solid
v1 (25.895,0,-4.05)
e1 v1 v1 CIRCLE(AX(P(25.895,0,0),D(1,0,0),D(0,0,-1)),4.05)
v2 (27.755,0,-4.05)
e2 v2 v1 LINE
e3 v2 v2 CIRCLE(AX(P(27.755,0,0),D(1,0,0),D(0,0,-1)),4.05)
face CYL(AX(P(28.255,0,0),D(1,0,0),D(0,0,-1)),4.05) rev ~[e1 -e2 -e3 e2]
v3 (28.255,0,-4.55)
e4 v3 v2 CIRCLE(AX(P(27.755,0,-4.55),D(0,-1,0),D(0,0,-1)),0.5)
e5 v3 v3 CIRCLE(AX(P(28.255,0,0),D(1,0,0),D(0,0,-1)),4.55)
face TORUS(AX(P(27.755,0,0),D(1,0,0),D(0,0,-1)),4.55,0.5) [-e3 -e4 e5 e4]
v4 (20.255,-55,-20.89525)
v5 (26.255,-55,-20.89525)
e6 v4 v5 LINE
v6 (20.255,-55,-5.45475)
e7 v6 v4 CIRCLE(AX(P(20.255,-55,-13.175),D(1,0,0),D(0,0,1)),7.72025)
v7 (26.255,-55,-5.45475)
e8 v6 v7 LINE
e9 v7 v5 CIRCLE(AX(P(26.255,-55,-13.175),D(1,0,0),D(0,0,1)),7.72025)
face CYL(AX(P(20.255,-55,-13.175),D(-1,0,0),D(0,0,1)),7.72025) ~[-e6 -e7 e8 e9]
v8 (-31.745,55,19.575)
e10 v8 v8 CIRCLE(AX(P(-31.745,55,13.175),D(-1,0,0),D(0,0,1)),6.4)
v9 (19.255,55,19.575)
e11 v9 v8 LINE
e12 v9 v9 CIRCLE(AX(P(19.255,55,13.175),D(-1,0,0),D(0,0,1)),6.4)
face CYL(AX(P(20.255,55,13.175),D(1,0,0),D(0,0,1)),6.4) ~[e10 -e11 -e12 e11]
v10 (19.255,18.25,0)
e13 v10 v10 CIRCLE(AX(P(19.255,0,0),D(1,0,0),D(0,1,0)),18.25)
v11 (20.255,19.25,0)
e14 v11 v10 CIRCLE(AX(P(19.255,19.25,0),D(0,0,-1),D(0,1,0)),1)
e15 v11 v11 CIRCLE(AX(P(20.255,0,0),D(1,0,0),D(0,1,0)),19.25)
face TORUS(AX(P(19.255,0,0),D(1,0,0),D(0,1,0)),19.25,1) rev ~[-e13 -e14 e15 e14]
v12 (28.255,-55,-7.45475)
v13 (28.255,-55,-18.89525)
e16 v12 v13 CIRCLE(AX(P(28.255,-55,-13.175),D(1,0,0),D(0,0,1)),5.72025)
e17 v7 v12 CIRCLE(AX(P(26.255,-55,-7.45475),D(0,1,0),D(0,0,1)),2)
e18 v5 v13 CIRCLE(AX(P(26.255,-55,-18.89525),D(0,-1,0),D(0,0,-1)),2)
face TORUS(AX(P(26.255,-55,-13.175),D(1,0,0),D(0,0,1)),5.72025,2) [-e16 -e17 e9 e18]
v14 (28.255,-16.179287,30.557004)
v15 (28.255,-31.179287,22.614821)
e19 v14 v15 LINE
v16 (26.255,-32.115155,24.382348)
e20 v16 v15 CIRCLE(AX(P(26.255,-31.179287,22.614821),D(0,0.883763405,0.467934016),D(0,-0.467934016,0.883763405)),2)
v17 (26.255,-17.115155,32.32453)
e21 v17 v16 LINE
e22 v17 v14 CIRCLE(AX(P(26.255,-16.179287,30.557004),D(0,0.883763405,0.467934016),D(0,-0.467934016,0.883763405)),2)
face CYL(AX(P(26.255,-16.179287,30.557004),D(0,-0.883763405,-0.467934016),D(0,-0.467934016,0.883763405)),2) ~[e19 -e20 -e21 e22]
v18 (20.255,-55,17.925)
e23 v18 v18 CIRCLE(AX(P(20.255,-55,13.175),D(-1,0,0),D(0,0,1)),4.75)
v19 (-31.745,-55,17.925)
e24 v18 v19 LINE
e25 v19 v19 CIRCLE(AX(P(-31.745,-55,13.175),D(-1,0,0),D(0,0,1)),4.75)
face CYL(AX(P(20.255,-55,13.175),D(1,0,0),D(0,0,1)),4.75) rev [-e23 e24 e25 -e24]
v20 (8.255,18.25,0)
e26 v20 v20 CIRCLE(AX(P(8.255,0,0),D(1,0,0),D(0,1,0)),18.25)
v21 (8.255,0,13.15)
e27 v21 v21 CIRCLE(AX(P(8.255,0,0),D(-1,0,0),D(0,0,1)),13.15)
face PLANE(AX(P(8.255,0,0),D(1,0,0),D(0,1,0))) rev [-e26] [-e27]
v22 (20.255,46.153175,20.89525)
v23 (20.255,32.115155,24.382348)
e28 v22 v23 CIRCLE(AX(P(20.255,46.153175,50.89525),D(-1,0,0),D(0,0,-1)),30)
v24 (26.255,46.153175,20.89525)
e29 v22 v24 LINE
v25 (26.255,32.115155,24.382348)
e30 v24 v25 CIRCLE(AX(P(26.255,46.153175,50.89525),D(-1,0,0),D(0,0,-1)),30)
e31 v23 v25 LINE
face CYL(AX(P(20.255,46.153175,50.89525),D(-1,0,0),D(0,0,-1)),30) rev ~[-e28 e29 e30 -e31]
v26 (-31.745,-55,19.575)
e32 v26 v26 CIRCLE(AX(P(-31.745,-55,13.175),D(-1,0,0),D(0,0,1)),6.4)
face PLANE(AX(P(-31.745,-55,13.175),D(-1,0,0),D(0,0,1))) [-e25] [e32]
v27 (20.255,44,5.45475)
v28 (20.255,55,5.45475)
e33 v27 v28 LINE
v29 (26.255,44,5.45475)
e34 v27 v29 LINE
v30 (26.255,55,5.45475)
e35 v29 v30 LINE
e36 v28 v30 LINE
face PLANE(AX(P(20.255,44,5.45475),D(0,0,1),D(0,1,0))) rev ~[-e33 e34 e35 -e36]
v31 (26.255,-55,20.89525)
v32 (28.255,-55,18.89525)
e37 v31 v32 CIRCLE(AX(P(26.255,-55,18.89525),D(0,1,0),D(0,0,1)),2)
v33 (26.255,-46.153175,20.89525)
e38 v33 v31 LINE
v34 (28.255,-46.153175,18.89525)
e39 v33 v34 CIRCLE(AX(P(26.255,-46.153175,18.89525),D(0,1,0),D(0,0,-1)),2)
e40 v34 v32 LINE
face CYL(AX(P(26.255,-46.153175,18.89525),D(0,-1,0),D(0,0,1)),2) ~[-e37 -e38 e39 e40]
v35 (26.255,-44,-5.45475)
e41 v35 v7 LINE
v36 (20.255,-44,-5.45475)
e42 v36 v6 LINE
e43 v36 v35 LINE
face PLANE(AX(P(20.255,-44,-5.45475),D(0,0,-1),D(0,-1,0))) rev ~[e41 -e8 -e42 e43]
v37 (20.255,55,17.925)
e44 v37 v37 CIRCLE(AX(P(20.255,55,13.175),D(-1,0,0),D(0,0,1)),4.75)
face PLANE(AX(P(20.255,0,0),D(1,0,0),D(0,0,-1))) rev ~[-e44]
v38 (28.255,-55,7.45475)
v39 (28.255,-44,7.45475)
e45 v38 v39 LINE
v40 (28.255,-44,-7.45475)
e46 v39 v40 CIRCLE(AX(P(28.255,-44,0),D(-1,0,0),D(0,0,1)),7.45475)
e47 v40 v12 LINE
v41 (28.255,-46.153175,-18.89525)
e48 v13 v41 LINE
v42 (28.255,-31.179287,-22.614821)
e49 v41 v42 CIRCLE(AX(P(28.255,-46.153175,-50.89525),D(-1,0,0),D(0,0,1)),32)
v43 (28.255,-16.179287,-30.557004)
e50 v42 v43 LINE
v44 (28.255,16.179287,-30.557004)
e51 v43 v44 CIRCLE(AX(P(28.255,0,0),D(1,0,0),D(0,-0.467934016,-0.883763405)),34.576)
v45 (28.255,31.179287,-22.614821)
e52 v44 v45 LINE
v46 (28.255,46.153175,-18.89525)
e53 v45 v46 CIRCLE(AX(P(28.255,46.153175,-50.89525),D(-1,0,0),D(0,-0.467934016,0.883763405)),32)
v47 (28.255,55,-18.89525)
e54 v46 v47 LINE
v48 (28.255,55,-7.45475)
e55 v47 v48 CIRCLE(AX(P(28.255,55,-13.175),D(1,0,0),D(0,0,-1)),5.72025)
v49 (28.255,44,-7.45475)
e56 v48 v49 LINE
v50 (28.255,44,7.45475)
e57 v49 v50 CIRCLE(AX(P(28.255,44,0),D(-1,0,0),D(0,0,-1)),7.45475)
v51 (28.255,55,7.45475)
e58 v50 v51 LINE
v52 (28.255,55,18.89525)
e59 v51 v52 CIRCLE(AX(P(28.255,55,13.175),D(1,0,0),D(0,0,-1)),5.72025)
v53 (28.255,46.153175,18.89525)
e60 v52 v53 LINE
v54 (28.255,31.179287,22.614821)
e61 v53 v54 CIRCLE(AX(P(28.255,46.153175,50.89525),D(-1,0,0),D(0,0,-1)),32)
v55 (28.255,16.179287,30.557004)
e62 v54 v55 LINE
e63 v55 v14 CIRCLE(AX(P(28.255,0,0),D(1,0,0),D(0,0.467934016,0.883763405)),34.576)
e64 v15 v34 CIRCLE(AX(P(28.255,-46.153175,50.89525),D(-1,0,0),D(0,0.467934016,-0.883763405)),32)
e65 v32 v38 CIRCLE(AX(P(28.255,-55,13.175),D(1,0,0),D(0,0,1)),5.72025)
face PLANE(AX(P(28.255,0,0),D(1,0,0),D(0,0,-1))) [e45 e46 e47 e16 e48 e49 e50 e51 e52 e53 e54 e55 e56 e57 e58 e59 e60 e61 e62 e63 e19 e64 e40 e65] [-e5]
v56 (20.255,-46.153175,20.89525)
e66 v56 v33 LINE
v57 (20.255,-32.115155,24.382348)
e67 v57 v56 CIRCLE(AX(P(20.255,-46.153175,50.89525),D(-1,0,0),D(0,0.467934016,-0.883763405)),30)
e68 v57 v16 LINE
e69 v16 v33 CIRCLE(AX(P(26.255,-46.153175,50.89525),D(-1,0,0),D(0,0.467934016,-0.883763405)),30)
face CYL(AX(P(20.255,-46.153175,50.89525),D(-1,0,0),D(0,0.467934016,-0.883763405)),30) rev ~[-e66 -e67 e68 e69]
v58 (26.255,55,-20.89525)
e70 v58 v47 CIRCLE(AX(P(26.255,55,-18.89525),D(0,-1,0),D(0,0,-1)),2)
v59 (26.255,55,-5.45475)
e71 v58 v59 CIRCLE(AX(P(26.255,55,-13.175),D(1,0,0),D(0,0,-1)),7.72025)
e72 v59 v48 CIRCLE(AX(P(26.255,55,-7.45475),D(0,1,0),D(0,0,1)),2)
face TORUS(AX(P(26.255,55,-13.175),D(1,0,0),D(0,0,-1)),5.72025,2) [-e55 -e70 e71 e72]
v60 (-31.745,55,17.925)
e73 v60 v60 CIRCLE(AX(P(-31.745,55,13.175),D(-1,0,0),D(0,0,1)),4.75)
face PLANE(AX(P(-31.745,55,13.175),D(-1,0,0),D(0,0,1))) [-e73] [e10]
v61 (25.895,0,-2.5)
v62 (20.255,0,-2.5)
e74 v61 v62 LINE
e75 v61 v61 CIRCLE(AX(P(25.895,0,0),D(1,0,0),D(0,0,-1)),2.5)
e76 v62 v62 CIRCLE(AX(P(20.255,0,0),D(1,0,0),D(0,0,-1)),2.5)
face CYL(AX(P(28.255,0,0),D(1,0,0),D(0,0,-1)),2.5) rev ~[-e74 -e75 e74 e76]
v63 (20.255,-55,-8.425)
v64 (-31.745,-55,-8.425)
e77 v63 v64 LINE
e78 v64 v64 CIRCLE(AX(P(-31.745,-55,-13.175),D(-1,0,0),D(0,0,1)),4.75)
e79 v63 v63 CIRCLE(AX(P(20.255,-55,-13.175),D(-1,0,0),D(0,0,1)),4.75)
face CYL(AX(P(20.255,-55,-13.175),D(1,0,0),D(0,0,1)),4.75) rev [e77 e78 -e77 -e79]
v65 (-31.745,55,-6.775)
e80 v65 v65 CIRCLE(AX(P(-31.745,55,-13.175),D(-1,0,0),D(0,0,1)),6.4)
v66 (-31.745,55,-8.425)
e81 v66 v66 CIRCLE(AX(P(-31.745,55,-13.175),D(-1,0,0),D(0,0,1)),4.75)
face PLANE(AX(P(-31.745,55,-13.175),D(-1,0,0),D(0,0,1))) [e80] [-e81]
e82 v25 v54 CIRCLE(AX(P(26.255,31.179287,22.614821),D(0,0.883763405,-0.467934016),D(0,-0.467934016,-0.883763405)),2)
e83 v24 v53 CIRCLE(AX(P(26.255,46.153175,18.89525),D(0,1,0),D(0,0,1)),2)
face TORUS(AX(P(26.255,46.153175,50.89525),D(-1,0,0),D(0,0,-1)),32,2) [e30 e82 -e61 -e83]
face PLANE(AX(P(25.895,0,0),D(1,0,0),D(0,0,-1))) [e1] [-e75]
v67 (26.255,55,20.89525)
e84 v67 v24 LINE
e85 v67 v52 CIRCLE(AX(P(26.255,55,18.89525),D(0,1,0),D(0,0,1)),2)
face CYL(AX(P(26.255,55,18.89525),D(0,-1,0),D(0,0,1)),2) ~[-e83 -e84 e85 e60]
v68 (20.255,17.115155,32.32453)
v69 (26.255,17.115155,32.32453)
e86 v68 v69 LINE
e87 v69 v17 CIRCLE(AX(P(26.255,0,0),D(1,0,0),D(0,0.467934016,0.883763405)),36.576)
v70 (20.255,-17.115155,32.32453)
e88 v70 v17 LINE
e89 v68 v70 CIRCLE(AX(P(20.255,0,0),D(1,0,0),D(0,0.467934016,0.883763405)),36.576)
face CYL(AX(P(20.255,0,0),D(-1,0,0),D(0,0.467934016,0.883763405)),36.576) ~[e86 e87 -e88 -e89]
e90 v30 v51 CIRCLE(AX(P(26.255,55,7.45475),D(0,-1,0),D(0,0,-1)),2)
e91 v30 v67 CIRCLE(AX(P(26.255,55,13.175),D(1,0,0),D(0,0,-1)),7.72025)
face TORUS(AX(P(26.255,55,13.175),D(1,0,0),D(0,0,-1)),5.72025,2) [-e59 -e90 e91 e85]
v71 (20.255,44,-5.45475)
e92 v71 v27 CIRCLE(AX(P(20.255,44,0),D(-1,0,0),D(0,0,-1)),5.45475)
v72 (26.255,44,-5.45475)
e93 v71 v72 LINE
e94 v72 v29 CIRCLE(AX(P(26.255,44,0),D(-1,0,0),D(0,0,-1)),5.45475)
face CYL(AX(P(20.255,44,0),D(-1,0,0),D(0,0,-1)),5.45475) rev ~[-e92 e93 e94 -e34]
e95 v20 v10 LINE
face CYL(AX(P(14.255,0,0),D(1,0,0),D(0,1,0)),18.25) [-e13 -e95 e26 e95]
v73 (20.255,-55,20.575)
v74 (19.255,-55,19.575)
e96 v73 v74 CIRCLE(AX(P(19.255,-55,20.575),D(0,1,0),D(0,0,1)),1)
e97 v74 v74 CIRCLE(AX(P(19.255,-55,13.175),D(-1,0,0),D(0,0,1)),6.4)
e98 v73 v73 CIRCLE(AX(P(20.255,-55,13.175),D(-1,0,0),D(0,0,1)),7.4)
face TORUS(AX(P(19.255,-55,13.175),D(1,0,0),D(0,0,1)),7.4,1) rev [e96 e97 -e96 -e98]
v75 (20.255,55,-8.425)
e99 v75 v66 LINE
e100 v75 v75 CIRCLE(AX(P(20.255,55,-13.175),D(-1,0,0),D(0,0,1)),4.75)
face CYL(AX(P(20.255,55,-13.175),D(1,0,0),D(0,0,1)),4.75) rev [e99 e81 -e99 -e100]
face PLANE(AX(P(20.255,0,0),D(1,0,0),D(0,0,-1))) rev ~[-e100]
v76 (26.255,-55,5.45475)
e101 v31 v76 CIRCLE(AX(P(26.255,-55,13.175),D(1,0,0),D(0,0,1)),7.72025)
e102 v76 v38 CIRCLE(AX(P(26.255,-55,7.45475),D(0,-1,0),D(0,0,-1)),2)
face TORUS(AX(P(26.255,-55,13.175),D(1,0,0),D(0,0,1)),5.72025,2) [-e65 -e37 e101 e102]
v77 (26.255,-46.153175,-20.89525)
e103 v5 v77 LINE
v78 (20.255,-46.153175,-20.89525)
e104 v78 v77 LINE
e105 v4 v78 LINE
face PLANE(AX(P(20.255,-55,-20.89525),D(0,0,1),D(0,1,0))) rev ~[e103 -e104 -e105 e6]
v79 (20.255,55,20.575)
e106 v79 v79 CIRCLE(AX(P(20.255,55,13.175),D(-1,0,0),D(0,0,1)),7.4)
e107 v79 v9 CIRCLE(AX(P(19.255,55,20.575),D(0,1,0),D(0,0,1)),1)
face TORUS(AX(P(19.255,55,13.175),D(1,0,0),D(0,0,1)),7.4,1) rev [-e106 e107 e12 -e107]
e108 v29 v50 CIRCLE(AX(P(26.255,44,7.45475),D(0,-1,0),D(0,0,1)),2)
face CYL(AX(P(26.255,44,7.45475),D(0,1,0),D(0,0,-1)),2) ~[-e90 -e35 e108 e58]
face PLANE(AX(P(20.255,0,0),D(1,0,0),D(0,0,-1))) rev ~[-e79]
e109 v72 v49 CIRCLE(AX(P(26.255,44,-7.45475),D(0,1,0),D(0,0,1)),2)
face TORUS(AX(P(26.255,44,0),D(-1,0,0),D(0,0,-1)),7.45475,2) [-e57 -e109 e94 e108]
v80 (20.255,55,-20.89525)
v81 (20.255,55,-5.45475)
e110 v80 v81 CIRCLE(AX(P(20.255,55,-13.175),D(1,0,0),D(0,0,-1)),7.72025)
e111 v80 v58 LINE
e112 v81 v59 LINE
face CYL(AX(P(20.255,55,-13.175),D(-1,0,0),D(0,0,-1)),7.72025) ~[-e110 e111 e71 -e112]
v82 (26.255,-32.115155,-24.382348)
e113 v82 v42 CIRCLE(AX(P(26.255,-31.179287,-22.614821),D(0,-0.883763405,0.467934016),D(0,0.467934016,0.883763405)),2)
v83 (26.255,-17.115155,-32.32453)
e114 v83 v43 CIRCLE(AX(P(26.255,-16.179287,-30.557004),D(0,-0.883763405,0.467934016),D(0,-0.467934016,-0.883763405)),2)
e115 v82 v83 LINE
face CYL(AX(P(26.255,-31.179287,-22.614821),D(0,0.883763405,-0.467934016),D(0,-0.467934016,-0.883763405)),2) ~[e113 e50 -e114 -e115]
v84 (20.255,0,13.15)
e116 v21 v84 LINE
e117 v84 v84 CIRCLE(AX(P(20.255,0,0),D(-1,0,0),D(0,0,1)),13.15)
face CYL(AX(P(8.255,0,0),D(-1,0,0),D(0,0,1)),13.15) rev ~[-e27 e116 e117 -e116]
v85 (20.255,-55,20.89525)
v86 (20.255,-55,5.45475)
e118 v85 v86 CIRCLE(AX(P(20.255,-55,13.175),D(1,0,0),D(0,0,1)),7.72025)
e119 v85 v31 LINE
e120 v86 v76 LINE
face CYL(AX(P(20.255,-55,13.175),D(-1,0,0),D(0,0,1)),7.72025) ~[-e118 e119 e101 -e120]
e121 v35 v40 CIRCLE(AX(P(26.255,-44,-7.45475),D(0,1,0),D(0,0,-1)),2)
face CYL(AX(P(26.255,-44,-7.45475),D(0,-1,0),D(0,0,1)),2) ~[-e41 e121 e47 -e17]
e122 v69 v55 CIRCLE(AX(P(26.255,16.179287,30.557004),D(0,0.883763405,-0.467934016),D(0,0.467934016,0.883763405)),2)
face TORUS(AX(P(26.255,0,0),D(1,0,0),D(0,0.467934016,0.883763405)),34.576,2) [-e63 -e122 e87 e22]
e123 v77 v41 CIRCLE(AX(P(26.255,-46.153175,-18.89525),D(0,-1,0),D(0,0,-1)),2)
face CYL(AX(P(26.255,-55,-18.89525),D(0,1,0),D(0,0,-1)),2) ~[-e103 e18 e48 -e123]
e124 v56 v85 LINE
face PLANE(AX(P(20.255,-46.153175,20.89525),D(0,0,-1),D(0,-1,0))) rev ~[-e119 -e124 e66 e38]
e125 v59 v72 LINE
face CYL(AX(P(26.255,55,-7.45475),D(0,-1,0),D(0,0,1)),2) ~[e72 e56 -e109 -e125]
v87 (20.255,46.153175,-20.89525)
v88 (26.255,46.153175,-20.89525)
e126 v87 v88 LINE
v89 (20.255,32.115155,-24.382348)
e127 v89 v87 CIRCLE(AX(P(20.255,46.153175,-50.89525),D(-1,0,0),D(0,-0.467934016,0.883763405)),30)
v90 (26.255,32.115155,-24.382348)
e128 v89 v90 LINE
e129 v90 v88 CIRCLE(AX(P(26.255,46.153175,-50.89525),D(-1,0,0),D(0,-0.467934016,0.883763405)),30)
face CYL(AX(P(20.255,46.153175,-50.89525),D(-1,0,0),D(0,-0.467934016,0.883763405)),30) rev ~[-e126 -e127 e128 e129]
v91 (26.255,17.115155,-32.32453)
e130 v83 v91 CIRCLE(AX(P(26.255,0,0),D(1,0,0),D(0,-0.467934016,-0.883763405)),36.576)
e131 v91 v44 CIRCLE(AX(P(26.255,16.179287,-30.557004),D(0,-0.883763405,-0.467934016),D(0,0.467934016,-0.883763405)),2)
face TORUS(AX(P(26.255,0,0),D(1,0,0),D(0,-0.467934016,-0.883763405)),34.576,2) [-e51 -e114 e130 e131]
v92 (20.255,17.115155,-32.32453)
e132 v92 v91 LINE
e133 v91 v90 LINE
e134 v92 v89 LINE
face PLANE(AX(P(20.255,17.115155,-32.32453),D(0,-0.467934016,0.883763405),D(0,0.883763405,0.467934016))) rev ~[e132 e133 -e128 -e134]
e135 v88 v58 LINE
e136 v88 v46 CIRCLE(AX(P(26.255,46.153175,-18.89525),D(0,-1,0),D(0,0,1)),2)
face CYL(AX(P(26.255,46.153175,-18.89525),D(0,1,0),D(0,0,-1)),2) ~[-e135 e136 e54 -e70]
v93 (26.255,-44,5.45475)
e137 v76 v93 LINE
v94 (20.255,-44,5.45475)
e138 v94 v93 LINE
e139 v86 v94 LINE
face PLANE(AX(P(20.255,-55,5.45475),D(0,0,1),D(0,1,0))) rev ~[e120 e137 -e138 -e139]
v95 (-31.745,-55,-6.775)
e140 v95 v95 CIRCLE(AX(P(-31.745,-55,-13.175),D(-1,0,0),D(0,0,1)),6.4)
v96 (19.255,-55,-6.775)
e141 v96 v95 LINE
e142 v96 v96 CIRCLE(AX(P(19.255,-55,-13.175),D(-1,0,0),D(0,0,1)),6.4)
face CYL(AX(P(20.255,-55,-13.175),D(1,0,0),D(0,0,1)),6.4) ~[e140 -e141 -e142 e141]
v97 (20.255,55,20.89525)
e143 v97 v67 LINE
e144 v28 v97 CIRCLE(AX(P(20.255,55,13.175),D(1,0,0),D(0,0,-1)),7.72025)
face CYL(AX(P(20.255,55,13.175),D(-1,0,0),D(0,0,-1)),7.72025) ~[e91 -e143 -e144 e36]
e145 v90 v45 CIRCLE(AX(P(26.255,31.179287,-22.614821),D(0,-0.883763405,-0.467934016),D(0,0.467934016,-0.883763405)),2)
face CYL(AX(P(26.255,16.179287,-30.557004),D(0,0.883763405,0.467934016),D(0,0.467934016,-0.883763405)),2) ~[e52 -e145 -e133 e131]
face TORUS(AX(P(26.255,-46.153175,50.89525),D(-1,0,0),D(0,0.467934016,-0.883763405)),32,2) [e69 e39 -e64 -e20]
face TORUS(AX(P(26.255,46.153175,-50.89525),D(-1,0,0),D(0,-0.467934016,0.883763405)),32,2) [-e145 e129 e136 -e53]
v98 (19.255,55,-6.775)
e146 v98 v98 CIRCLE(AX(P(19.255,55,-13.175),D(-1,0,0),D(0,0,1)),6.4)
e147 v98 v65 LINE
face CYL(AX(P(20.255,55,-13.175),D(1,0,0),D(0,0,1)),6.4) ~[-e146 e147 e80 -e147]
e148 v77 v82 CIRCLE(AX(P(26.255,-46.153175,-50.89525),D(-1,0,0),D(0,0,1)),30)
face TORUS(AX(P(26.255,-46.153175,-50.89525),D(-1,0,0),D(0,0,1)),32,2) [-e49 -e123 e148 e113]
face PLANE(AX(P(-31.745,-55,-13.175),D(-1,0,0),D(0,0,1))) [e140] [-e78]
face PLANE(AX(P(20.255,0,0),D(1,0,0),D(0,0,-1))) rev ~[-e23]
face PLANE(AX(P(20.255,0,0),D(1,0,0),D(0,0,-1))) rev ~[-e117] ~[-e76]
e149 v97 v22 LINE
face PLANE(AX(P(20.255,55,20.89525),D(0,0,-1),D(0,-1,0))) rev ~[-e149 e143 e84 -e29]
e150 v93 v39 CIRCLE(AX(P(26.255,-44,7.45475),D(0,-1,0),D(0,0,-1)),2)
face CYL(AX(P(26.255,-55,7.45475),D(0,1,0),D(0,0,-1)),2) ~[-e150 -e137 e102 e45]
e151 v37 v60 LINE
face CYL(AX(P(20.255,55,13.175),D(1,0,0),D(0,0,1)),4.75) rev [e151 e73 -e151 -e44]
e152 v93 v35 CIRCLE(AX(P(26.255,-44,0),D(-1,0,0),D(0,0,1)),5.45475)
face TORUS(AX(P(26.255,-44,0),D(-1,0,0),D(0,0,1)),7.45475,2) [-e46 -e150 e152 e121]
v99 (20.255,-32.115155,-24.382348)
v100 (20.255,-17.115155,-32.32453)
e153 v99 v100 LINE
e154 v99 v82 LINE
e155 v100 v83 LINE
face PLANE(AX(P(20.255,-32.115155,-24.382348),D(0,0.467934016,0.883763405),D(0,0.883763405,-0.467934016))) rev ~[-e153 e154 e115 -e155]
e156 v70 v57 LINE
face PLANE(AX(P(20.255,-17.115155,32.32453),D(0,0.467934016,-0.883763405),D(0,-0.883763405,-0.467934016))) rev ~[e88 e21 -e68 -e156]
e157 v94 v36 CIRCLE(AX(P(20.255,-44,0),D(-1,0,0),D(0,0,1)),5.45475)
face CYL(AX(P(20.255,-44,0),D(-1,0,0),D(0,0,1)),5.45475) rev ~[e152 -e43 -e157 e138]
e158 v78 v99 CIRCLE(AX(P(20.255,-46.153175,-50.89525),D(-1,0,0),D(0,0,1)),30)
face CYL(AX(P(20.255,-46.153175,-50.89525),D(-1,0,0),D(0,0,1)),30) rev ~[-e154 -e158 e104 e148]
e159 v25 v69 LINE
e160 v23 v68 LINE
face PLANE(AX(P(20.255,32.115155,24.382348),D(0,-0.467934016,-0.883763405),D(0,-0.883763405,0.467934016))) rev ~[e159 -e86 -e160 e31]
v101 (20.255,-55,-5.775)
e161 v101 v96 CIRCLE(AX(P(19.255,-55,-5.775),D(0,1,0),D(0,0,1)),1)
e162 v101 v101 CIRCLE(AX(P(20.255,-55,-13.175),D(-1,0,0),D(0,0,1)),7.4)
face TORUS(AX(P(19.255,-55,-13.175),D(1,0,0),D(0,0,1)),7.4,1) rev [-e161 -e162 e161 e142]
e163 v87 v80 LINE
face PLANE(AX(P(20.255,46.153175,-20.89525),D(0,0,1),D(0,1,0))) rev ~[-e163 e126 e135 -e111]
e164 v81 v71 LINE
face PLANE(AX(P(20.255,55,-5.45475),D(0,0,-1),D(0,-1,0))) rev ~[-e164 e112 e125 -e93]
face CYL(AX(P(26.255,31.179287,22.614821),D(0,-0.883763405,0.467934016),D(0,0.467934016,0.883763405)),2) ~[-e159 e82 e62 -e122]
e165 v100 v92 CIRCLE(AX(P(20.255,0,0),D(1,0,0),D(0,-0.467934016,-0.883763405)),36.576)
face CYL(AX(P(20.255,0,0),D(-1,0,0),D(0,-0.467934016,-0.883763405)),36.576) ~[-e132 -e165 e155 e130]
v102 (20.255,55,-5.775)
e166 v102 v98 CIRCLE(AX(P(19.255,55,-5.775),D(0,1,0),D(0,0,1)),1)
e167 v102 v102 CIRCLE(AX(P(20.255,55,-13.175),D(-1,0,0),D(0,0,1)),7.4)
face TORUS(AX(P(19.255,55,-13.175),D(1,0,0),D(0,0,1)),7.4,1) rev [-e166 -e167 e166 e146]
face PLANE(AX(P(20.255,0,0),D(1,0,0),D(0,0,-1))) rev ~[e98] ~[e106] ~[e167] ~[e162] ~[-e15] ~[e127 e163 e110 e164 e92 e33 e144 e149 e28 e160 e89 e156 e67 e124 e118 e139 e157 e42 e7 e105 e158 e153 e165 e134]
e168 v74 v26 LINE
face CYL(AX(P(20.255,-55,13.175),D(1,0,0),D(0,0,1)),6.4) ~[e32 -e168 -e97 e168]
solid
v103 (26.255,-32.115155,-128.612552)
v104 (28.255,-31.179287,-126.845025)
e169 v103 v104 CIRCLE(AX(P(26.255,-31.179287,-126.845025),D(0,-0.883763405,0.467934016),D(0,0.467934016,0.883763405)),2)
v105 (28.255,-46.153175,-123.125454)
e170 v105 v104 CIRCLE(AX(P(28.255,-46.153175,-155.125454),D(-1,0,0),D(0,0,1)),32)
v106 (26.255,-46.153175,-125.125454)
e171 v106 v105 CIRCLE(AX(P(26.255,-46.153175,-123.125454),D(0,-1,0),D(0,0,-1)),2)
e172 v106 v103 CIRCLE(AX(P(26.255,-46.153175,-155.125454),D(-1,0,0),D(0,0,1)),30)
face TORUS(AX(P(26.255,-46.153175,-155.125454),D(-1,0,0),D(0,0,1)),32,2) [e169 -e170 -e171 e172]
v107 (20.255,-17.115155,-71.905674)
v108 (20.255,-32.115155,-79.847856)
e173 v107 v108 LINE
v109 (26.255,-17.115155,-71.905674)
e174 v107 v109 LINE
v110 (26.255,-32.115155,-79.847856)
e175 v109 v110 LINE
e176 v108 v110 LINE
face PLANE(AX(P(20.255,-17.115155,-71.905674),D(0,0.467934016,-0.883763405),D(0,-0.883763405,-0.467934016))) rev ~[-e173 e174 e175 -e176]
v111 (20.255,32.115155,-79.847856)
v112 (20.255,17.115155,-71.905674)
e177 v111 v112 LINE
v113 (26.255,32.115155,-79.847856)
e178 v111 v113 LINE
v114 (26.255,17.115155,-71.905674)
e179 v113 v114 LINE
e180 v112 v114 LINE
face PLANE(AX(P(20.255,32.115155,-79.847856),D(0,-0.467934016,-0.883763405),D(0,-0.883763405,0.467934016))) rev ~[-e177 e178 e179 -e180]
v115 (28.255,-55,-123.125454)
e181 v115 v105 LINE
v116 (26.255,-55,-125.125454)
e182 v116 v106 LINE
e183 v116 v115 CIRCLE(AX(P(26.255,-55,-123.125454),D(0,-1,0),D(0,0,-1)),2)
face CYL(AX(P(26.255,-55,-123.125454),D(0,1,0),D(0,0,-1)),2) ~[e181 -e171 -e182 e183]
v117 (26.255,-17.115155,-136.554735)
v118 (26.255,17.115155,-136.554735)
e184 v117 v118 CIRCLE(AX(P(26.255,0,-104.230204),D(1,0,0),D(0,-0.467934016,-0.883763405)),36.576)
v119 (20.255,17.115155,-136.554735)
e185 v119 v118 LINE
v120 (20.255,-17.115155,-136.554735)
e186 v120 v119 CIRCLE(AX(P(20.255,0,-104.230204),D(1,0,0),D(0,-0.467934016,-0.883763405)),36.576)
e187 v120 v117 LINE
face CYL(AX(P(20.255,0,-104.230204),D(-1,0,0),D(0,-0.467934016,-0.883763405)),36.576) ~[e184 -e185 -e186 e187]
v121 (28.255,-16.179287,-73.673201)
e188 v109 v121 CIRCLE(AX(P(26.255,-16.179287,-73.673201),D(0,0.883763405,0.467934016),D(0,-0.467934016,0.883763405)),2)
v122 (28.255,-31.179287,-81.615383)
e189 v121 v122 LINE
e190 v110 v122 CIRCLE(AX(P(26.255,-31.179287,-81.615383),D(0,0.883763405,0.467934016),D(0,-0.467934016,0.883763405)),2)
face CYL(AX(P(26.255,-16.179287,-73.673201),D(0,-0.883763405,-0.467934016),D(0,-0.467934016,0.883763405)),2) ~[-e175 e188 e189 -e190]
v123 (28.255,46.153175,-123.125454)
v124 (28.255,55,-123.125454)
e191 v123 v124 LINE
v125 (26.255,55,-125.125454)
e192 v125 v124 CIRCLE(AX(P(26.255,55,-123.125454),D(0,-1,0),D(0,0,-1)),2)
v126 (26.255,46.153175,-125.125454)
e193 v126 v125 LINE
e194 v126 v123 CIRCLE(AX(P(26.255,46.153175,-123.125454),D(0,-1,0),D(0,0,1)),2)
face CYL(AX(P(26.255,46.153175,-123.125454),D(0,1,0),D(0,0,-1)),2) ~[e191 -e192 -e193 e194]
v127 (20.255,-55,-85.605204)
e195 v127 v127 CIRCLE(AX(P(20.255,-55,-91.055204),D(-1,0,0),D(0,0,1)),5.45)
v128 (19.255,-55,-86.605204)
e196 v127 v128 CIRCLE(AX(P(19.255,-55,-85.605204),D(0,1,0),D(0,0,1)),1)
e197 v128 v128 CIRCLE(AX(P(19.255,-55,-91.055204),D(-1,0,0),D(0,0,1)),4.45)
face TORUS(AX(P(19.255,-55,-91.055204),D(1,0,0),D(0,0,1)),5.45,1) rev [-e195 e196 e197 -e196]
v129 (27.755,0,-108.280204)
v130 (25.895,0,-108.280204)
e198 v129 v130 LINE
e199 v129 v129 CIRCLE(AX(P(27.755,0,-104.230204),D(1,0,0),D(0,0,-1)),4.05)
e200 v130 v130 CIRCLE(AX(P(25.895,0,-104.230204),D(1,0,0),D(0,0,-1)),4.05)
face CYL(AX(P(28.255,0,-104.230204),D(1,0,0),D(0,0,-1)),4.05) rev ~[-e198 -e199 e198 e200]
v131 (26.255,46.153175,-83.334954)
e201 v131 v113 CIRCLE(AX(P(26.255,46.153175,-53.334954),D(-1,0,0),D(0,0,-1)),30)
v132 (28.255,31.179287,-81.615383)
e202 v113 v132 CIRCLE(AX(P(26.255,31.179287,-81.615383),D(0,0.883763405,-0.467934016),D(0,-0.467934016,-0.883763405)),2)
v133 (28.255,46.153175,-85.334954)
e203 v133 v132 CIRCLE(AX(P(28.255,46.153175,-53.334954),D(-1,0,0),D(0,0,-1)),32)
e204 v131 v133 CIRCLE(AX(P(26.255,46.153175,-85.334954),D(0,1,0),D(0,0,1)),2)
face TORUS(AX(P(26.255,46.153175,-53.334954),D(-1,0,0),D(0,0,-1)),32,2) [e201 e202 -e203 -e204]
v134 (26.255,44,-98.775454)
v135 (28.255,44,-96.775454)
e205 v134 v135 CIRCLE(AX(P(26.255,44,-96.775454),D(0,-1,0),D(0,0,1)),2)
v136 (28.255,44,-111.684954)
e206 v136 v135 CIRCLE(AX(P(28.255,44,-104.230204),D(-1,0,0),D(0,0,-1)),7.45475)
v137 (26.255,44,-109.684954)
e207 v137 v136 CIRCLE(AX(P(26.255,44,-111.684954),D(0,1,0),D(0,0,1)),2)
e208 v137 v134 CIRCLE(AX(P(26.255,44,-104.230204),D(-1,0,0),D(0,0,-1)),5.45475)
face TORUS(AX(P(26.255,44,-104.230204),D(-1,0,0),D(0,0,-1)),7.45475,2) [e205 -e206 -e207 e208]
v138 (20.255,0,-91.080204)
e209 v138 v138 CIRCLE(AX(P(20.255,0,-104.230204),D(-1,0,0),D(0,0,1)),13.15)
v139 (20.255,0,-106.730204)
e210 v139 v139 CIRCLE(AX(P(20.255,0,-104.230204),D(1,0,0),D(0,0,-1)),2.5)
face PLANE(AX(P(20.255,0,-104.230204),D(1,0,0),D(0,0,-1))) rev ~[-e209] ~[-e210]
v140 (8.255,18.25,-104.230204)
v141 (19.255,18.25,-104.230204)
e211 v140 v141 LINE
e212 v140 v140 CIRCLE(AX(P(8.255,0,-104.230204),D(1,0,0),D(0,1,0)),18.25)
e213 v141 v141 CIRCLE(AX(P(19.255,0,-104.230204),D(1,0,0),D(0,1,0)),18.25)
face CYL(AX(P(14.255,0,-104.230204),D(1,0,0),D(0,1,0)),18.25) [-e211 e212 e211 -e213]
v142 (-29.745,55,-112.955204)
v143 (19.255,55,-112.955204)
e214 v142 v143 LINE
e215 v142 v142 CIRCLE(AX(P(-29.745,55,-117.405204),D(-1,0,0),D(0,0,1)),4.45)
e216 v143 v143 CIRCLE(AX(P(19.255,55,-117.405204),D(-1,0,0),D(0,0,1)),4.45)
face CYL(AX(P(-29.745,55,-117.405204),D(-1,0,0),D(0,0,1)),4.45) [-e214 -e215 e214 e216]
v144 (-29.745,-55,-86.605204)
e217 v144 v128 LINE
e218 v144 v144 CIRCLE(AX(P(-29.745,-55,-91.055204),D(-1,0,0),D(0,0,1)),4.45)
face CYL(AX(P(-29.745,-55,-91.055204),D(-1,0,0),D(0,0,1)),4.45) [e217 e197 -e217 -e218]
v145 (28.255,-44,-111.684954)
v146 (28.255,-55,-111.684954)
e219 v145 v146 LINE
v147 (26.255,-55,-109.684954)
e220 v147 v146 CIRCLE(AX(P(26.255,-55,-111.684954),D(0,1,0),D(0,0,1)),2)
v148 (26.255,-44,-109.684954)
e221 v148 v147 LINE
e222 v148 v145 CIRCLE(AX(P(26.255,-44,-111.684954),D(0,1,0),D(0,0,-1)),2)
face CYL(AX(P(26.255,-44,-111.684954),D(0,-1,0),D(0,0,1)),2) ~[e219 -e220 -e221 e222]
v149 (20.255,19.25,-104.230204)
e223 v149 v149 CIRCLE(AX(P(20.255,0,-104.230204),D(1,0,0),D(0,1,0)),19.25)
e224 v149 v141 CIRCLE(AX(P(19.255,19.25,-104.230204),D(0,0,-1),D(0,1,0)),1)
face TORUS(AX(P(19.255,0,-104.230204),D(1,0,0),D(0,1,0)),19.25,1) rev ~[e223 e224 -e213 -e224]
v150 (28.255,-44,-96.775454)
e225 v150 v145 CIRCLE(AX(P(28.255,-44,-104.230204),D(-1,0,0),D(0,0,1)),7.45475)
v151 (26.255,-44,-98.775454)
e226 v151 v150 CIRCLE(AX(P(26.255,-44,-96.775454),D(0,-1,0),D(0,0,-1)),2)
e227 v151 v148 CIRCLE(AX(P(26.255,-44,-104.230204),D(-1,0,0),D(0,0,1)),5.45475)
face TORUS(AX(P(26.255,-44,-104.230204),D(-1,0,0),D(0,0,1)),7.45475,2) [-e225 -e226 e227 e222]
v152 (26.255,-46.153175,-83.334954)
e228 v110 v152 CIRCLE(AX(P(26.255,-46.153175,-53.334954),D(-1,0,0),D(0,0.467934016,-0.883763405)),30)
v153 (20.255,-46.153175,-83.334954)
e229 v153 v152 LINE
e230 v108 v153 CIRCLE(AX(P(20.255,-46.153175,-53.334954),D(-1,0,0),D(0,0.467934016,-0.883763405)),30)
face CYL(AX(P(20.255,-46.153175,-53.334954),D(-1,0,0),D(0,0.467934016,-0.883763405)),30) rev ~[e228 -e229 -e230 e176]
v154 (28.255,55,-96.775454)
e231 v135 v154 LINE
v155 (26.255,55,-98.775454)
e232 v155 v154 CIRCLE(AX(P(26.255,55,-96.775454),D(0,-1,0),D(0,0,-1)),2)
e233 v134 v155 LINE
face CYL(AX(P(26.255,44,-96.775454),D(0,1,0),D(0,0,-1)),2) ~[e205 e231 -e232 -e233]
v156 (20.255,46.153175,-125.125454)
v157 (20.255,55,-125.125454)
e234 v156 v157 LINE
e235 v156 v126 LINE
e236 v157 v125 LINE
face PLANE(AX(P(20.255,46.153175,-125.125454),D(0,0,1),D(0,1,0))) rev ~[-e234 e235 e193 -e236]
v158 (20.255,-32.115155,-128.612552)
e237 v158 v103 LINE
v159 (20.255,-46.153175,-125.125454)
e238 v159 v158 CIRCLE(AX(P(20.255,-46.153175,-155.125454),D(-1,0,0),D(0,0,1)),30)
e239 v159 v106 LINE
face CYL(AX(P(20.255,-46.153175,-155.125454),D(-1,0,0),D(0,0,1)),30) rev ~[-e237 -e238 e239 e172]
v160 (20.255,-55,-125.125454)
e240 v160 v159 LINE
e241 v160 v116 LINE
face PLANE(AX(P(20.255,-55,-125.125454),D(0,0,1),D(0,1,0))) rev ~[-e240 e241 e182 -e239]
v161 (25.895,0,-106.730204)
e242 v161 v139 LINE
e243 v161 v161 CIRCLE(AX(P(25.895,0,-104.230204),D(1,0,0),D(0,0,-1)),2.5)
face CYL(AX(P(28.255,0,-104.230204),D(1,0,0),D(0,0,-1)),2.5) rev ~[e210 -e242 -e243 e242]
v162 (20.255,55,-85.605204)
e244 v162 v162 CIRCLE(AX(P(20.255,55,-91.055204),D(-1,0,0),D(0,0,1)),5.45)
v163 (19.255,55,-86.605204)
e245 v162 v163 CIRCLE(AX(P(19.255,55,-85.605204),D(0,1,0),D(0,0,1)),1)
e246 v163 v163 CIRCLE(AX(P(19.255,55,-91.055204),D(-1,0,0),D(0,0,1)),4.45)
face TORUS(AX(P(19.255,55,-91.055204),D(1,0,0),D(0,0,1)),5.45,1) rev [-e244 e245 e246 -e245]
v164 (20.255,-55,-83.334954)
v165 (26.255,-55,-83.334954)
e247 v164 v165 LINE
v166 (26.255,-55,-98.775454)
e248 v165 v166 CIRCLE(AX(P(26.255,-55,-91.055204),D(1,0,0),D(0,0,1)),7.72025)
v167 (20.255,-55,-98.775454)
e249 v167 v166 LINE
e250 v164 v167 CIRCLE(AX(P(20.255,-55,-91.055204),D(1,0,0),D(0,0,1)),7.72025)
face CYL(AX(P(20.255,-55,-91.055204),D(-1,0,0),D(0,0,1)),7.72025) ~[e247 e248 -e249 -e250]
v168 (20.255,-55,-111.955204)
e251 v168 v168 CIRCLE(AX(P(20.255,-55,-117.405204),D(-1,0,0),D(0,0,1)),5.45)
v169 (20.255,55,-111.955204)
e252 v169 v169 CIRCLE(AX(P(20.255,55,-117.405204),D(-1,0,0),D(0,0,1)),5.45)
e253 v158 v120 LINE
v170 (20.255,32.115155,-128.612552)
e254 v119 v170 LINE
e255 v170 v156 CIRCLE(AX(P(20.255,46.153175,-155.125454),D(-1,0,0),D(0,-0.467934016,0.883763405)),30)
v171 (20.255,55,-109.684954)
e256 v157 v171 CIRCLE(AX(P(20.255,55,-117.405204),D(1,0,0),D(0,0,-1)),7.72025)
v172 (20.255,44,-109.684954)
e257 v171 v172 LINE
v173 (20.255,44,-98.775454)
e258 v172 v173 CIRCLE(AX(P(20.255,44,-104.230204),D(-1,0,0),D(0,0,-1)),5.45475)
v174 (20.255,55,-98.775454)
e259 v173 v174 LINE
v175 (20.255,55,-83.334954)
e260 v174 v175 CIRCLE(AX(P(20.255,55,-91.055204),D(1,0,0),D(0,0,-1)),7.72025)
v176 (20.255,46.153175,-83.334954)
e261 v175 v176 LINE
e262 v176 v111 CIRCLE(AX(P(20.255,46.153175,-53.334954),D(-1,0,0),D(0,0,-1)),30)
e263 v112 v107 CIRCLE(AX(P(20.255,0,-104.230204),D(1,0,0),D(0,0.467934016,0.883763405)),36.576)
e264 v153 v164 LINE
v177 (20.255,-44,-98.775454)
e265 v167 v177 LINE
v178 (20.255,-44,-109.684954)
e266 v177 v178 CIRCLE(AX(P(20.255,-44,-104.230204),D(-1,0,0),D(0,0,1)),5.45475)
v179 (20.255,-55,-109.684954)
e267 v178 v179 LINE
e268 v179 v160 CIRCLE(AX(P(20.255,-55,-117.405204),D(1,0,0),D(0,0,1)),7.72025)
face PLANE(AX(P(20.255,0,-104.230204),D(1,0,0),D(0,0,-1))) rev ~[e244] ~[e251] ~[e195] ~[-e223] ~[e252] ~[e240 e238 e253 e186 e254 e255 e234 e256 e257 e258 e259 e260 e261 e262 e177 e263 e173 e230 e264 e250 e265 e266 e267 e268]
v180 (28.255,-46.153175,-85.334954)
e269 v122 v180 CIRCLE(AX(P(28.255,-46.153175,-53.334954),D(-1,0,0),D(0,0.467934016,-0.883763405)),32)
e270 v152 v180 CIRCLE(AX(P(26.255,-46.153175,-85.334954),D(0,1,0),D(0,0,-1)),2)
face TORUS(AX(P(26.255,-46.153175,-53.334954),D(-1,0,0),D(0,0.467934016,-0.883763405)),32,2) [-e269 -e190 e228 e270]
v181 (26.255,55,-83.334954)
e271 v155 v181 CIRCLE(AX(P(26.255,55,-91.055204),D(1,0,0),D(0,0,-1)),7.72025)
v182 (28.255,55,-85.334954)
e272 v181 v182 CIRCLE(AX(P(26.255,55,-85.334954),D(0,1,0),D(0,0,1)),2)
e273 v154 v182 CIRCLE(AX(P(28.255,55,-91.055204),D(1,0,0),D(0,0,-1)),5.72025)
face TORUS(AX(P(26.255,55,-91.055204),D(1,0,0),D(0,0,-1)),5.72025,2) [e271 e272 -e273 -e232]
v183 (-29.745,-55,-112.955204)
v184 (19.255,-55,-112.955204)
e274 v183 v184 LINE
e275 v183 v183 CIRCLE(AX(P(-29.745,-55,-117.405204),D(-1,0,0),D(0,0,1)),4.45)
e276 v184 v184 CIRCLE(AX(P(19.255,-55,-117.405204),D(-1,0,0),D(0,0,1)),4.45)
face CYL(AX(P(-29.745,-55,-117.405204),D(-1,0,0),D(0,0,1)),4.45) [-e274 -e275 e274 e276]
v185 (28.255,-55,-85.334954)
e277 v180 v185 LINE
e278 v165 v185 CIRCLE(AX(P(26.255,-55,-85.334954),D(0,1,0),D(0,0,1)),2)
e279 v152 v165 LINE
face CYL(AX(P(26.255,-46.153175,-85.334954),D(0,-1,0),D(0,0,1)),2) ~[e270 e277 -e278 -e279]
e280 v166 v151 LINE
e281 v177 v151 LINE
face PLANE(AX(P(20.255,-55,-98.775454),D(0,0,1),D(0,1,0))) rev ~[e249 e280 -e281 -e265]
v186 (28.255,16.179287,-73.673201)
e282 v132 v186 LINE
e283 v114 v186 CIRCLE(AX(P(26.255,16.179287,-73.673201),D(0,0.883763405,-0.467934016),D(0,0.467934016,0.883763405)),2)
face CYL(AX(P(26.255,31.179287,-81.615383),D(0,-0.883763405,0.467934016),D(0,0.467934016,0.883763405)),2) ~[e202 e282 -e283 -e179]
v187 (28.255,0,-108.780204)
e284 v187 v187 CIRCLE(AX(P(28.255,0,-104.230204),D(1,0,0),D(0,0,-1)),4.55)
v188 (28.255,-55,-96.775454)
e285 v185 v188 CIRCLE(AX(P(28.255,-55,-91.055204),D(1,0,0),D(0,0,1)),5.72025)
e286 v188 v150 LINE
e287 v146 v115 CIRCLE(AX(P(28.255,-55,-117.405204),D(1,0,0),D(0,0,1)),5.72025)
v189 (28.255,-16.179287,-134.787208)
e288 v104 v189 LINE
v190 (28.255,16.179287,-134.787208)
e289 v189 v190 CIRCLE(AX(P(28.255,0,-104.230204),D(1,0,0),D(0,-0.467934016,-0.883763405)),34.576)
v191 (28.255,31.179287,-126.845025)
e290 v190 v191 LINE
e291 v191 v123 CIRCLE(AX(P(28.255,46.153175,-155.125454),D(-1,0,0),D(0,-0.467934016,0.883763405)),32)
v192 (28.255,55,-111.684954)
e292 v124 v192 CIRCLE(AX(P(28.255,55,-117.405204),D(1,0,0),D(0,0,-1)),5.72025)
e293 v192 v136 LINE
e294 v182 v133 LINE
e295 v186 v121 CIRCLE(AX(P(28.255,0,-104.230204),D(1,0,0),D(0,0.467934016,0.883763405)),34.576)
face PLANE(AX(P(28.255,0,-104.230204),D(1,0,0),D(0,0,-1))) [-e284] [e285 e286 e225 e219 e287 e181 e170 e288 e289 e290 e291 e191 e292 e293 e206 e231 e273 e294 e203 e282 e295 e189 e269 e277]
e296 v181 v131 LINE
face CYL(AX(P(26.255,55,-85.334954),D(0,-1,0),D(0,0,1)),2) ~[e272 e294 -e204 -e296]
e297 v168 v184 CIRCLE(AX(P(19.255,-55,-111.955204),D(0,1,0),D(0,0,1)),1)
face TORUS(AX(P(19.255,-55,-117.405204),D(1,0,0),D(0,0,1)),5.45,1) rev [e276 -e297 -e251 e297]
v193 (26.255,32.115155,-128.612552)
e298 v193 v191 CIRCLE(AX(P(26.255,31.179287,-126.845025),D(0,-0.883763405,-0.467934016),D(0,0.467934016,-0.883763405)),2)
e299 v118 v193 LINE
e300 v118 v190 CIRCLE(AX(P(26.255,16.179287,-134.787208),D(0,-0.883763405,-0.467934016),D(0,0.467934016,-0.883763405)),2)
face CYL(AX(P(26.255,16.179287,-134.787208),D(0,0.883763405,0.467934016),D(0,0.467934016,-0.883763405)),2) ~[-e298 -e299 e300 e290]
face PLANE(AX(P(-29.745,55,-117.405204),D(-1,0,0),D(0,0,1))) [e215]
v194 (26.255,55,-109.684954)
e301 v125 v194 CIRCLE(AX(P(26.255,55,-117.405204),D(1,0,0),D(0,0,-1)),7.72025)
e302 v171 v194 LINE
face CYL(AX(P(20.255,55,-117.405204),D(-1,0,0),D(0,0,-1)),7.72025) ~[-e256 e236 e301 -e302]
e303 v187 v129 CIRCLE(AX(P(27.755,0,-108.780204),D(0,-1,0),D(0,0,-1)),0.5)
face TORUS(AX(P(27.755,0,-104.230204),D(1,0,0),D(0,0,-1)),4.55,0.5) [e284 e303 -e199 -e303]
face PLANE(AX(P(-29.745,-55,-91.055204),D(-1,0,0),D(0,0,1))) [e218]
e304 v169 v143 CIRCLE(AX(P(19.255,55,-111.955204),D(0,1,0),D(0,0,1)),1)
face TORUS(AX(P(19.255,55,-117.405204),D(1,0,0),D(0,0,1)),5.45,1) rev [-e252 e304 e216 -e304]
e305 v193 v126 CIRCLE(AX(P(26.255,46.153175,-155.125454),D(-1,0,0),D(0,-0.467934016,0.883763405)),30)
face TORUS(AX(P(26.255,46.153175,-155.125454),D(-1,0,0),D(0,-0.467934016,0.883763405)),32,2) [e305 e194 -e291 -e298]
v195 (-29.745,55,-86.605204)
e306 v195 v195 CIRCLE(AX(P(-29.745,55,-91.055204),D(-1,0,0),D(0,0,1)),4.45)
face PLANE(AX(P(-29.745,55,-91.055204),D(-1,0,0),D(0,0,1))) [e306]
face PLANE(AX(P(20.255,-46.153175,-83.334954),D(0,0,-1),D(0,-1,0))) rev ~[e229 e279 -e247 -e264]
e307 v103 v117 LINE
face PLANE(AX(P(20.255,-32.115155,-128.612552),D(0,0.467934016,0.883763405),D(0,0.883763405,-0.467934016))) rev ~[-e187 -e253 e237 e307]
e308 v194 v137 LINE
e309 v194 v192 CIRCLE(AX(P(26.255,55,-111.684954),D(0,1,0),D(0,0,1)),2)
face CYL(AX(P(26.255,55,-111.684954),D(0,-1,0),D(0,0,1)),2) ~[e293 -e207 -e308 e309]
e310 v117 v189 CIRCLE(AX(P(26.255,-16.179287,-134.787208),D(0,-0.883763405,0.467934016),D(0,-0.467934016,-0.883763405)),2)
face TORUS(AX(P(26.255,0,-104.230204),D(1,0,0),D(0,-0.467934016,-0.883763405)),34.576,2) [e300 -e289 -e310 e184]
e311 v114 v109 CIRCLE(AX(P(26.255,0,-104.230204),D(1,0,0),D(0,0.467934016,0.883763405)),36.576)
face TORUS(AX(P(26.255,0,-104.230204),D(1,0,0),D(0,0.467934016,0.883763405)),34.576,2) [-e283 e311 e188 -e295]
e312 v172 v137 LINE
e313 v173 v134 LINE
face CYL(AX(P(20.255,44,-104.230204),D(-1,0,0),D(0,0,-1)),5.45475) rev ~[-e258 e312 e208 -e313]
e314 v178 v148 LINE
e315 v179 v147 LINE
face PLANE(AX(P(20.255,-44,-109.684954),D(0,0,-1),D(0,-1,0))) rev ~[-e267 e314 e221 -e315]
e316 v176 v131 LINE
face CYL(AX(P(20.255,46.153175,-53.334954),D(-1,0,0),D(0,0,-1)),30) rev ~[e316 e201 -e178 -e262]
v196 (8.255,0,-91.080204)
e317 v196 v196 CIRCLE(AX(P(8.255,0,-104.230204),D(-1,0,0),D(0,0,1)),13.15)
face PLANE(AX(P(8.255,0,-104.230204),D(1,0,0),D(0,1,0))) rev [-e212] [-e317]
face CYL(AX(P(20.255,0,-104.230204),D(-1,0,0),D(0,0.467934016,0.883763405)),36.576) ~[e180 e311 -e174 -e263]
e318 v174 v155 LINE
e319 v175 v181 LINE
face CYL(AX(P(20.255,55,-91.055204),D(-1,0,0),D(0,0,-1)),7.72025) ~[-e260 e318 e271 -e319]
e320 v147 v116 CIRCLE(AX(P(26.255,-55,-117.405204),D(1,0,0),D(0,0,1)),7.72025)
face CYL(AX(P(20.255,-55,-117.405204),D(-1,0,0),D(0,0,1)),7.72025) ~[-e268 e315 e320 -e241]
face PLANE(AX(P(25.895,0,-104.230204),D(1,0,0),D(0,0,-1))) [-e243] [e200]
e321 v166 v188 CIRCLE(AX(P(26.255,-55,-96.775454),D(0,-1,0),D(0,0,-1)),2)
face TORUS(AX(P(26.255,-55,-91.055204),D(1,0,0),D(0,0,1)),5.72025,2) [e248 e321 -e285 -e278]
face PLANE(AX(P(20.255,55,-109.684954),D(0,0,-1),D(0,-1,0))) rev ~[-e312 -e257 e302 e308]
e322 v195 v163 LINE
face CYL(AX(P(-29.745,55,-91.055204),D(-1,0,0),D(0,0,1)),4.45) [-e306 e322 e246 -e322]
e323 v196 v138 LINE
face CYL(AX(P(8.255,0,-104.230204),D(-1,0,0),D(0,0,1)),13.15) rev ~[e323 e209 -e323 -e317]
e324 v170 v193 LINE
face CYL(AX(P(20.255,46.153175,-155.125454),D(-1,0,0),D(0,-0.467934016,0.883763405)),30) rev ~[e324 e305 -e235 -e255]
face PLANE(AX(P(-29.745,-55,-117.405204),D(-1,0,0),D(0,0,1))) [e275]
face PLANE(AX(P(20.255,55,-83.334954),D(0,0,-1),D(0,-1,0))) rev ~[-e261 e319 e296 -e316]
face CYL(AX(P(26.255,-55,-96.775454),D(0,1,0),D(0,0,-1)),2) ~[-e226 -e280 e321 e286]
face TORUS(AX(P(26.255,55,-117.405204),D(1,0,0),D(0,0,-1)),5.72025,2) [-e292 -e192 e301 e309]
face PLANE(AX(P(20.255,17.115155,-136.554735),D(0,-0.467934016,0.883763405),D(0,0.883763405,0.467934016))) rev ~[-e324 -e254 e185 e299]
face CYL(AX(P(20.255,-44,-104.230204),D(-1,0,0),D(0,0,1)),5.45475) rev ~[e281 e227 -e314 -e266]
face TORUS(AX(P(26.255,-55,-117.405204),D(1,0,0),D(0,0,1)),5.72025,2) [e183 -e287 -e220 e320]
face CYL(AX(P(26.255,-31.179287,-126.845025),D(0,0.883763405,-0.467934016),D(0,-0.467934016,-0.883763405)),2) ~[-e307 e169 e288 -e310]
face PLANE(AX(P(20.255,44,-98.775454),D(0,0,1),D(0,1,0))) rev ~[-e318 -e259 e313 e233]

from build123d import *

# Parameters (mm, degrees)
SKETCH1_W           = 12
SKETCH1_H           = 18.25
SKETCH2_R           = 3.7145
CUT_EXTRUDE1_DEPTH  = 8.5725
SKETCH3_R           = 18.25
BOSS_EXTRUDE1_DEPTH = 8
SKETCH4_R           = 6.4
SKETCH4_R_2         = 4.75
BOSS_EXTRUDE2_DEPTH = 52
FILLET1_R           = 2
SKETCH6_R           = 13.15
CUT_EXTRUDE2_DEPTH  = 12
SKETCH12_R          = 4.05
CUT_EXTRUDE6_DEPTH  = 2.36
SKETCH12_6_R        = 2.5
CUT_EXTRUDE7_DEPTH  = 8
FILLET2_R           = 0.5
FILLET3_R           = 1
SKETCH13_R          = 7.4
SKETCH13_R_2        = 4.45
CUT_EXTRUDE8_DEPTH  = 52
BOSS_EXTRUDE4_START = -2
SKETCH13_3_R        = 4.45
BOSS_EXTRUDE4_DEPTH = 50
FILLET4_R           = 1


with BuildPart() as part:
    # Sketch1 → Revolve1 (revolve)
    with BuildSketch(Plane.XY):
        with Locations((14.255, 9.125)):
            Rectangle(SKETCH1_W, SKETCH1_H)
    revolve(axis=Axis((8.255, 0, 0), (1, 0, 0)))

    # Sketch2 → Cut-Extrude1 (cut)
    with BuildSketch(Plane.ZY.offset(-8.255)):
        Circle(SKETCH2_R)
    extrude(amount=-CUT_EXTRUDE1_DEPTH, mode=Mode.SUBTRACT)

    # Sketch6 → Cut-Extrude2 (cut)
    with BuildSketch(Plane.ZY.offset(-8.255)):
        Circle(SKETCH6_R)
    extrude(amount=-CUT_EXTRUDE2_DEPTH, mode=Mode.SUBTRACT)


with BuildPart() as body_2:
    # Sketch3 → Boss-Extrude1 (new body)
    with BuildSketch(Plane(origin=(20.255, 0, 0), x_dir=(0, 0, -1), z_dir=(1, 0, 0))):
        with BuildLine():
            Line((-24.382347836, 32.115154563), (-32.324530318, 17.115154563))
            ThreePointArc((-32.324530318, 17.115154563), (-36.576, 0), (-32.324530318, -17.115154563))
            Line((-32.324530318, -17.115154563), (-24.382347836, -32.115154563))
            ThreePointArc((-24.382347836, -32.115154563), (-21.780072988, -38.920854003), (-20.89525, -46.153175037))
            Line((-20.89525, -46.153175037), (-20.89525, -55))
            ThreePointArc((-20.89525, -55), (-13.175, -62.72025), (-5.45475, -55))
            Line((-5.45475, -55), (-5.45475, -44))
            ThreePointArc((-5.45475, -44), (0, -38.54525), (5.45475, -44))
            Line((5.45475, -44), (5.45475, -55))
            ThreePointArc((5.45475, -55), (13.175, -62.72025), (20.89525, -55))
            Line((20.89525, -55), (20.89525, -46.153175037))
            ThreePointArc((20.89525, -46.153175037), (21.780072988, -38.920854003), (24.382347836, -32.115154563))
            Line((24.382347836, -32.115154563), (32.324530318, -17.115154563))
            ThreePointArc((32.324530318, -17.115154563), (36.576, 0), (32.324530318, 17.115154563))
            Line((32.324530318, 17.115154563), (24.382347836, 32.115154563))
            ThreePointArc((24.382347836, 32.115154563), (21.780072988, 38.920854003), (20.89525, 46.153175037))
            Line((20.89525, 46.153175037), (20.89525, 55))
            ThreePointArc((20.89525, 55), (13.175, 62.72025), (5.45475, 55))
            Line((5.45475, 55), (5.45475, 44))
            ThreePointArc((5.45475, 44), (0, 38.54525), (-5.45475, 44))
            Line((-5.45475, 44), (-5.45475, 55))
            ThreePointArc((-5.45475, 55), (-13.175, 62.72025), (-20.89525, 55))
            Line((-20.89525, 55), (-20.89525, 46.153175037))
            ThreePointArc((-20.89525, 46.153175037), (-21.780072988, 38.920854003), (-24.382347836, 32.115154563))
        make_face()
        Circle(SKETCH3_R, mode=Mode.SUBTRACT)
        Circle(SKETCH3_R)
    extrude(amount=BOSS_EXTRUDE1_DEPTH)

    # Sketch4 → Boss-Extrude2 (add)
    with BuildSketch(Plane.ZY.offset(-20.255)):
        with Locations((-13.175, 55)):
            Circle(SKETCH4_R)
        with Locations((-13.175, 55)):
            Circle(SKETCH4_R_2, mode=Mode.SUBTRACT)
        with Locations((13.175, 55)):
            Circle(SKETCH4_R)
        with Locations((13.175, 55)):
            Circle(SKETCH4_R_2, mode=Mode.SUBTRACT)
        with Locations((13.175, -55)):
            Circle(SKETCH4_R)
        with Locations((13.175, -55)):
            Circle(SKETCH4_R_2, mode=Mode.SUBTRACT)
        with Locations((-13.175, -55)):
            Circle(SKETCH4_R)
        with Locations((-13.175, -55)):
            Circle(SKETCH4_R_2, mode=Mode.SUBTRACT)
    extrude(amount=BOSS_EXTRUDE2_DEPTH)

    # Fillet1
    fillet1_edges = [body_2.edges().sort_by_distance(p)[0] for p in [
        (28.255, 0, 36.576),
        (28.255, 38.54525, 0),
        (28.255, 49.5, 5.45475),
        (28.255, 62.72025, 13.175),
        (28.255, 50.576587519, 20.89525),
        (28.255, 38.920854003, 21.780072988),
        (28.255, -24.615154563, 28.353439077),
        (28.255, -38.920854003, 21.780072988),
        (28.255, -50.576587519, 20.89525),
        (28.255, -62.72025, 13.175),
        (28.255, -49.5, 5.45475),
        (28.255, -38.54525, 0),
        (28.255, -49.5, -5.45475),
        (28.255, 24.615154563, 28.353439077),
        (28.255, -62.72025, -13.175),
        (28.255, -50.576587519, -20.89525),
        (28.255, -38.920854003, -21.780072988),
        (28.255, -24.615154563, -28.353439077),
        (28.255, 0, -36.576),
        (28.255, 24.615154563, -28.353439077),
        (28.255, 38.920854003, -21.780072988),
        (28.255, 50.576587519, -20.89525),
        (28.255, 62.72025, -13.175),
        (28.255, 49.5, -5.45475),
    ]]
    fillet(fillet1_edges, radius=FILLET1_R)

    # Sketch12 → Cut-Extrude6 (cut)
    with BuildSketch(Plane(origin=(28.255, 0, 0), x_dir=(0, 0, -1), z_dir=(1, 0, 0))):
        Circle(SKETCH12_R)
    extrude(amount=-CUT_EXTRUDE6_DEPTH, mode=Mode.SUBTRACT)

    # Sketch12<6> → Cut-Extrude7 (cut)
    with BuildSketch(Plane(origin=(28.255, 0, 0), x_dir=(0, 0, -1), z_dir=(1, 0, 0))):
        Circle(SKETCH12_6_R)
    extrude(amount=-CUT_EXTRUDE7_DEPTH, mode=Mode.SUBTRACT)

    # Fillet2
    fillet2_edges = [body_2.edges().sort_by_distance(p)[0] for p in [
        (28.255, 0, 4.05),
    ]]
    fillet(fillet2_edges, radius=FILLET2_R)


with BuildPart() as part_1:
    add(part.part)

    # Combine1: union body 2
    add(body_2.part)

    # Fillet3
    fillet3_edges = [part_1.edges().sort_by_distance(p)[0] for p in [
        (20.255, -18.25, 0),
        (20.255, 55, -19.575),
        (20.255, 55, 6.775),
        (20.255, -55, 6.775),
        (20.255, -55, -19.575),
    ]]
    fillet(fillet3_edges, radius=FILLET3_R)


with BuildPart() as body_2_2:
    # Body-Move/Copy1: copy of part
    add(part_1.part.moved(Location((0, 0, -104.230204275))))

    # Sketch13 → Cut-Extrude8 (cut)
    with BuildSketch(Plane.ZY.offset(31.745)):
        with Locations((-117.405204275, 55)):
            Circle(SKETCH13_R)
        with Locations((-117.405204275, 55)):
            Circle(SKETCH13_R_2, mode=Mode.SUBTRACT)
        with Locations((-91.055204275, 55)):
            Circle(SKETCH13_R)
        with Locations((-91.055204275, 55)):
            Circle(SKETCH13_R_2, mode=Mode.SUBTRACT)
        with Locations((-117.405204275, -55)):
            Circle(SKETCH13_R)
        with Locations((-117.405204275, -55)):
            Circle(SKETCH13_R_2, mode=Mode.SUBTRACT)
        with Locations((-91.055204275, -55)):
            Circle(SKETCH13_R)
        with Locations((-91.055204275, -55)):
            Circle(SKETCH13_R_2, mode=Mode.SUBTRACT)
    extrude(amount=-CUT_EXTRUDE8_DEPTH, mode=Mode.SUBTRACT)

    # Sketch13<3> → Boss-Extrude4 (add)
    with BuildSketch(Plane.ZY.offset(31.745).offset(BOSS_EXTRUDE4_START)):
        with Locations((-91.055204275, 55)):
            Circle(SKETCH13_3_R)
        with Locations((-117.405204275, -55)):
            Circle(SKETCH13_3_R)
        with Locations((-91.055204275, -55)):
            Circle(SKETCH13_3_R)
        with Locations((-117.405204275, 55)):
            Circle(SKETCH13_3_R)
    extrude(amount=-BOSS_EXTRUDE4_DEPTH)

    # Fillet4
    fillet4_edges = [body_2_2.edges().sort_by_distance(p)[0] for p in [
        (20.255, 55, -95.505204275),
        (20.255, -55, -121.855204275),
        (20.255, -55, -95.505204275),
        (20.255, 55, -121.855204275),
    ]]
    fillet(fillet4_edges, radius=FILLET4_R)


solid = Compound([part_1.part, body_2_2.part])
